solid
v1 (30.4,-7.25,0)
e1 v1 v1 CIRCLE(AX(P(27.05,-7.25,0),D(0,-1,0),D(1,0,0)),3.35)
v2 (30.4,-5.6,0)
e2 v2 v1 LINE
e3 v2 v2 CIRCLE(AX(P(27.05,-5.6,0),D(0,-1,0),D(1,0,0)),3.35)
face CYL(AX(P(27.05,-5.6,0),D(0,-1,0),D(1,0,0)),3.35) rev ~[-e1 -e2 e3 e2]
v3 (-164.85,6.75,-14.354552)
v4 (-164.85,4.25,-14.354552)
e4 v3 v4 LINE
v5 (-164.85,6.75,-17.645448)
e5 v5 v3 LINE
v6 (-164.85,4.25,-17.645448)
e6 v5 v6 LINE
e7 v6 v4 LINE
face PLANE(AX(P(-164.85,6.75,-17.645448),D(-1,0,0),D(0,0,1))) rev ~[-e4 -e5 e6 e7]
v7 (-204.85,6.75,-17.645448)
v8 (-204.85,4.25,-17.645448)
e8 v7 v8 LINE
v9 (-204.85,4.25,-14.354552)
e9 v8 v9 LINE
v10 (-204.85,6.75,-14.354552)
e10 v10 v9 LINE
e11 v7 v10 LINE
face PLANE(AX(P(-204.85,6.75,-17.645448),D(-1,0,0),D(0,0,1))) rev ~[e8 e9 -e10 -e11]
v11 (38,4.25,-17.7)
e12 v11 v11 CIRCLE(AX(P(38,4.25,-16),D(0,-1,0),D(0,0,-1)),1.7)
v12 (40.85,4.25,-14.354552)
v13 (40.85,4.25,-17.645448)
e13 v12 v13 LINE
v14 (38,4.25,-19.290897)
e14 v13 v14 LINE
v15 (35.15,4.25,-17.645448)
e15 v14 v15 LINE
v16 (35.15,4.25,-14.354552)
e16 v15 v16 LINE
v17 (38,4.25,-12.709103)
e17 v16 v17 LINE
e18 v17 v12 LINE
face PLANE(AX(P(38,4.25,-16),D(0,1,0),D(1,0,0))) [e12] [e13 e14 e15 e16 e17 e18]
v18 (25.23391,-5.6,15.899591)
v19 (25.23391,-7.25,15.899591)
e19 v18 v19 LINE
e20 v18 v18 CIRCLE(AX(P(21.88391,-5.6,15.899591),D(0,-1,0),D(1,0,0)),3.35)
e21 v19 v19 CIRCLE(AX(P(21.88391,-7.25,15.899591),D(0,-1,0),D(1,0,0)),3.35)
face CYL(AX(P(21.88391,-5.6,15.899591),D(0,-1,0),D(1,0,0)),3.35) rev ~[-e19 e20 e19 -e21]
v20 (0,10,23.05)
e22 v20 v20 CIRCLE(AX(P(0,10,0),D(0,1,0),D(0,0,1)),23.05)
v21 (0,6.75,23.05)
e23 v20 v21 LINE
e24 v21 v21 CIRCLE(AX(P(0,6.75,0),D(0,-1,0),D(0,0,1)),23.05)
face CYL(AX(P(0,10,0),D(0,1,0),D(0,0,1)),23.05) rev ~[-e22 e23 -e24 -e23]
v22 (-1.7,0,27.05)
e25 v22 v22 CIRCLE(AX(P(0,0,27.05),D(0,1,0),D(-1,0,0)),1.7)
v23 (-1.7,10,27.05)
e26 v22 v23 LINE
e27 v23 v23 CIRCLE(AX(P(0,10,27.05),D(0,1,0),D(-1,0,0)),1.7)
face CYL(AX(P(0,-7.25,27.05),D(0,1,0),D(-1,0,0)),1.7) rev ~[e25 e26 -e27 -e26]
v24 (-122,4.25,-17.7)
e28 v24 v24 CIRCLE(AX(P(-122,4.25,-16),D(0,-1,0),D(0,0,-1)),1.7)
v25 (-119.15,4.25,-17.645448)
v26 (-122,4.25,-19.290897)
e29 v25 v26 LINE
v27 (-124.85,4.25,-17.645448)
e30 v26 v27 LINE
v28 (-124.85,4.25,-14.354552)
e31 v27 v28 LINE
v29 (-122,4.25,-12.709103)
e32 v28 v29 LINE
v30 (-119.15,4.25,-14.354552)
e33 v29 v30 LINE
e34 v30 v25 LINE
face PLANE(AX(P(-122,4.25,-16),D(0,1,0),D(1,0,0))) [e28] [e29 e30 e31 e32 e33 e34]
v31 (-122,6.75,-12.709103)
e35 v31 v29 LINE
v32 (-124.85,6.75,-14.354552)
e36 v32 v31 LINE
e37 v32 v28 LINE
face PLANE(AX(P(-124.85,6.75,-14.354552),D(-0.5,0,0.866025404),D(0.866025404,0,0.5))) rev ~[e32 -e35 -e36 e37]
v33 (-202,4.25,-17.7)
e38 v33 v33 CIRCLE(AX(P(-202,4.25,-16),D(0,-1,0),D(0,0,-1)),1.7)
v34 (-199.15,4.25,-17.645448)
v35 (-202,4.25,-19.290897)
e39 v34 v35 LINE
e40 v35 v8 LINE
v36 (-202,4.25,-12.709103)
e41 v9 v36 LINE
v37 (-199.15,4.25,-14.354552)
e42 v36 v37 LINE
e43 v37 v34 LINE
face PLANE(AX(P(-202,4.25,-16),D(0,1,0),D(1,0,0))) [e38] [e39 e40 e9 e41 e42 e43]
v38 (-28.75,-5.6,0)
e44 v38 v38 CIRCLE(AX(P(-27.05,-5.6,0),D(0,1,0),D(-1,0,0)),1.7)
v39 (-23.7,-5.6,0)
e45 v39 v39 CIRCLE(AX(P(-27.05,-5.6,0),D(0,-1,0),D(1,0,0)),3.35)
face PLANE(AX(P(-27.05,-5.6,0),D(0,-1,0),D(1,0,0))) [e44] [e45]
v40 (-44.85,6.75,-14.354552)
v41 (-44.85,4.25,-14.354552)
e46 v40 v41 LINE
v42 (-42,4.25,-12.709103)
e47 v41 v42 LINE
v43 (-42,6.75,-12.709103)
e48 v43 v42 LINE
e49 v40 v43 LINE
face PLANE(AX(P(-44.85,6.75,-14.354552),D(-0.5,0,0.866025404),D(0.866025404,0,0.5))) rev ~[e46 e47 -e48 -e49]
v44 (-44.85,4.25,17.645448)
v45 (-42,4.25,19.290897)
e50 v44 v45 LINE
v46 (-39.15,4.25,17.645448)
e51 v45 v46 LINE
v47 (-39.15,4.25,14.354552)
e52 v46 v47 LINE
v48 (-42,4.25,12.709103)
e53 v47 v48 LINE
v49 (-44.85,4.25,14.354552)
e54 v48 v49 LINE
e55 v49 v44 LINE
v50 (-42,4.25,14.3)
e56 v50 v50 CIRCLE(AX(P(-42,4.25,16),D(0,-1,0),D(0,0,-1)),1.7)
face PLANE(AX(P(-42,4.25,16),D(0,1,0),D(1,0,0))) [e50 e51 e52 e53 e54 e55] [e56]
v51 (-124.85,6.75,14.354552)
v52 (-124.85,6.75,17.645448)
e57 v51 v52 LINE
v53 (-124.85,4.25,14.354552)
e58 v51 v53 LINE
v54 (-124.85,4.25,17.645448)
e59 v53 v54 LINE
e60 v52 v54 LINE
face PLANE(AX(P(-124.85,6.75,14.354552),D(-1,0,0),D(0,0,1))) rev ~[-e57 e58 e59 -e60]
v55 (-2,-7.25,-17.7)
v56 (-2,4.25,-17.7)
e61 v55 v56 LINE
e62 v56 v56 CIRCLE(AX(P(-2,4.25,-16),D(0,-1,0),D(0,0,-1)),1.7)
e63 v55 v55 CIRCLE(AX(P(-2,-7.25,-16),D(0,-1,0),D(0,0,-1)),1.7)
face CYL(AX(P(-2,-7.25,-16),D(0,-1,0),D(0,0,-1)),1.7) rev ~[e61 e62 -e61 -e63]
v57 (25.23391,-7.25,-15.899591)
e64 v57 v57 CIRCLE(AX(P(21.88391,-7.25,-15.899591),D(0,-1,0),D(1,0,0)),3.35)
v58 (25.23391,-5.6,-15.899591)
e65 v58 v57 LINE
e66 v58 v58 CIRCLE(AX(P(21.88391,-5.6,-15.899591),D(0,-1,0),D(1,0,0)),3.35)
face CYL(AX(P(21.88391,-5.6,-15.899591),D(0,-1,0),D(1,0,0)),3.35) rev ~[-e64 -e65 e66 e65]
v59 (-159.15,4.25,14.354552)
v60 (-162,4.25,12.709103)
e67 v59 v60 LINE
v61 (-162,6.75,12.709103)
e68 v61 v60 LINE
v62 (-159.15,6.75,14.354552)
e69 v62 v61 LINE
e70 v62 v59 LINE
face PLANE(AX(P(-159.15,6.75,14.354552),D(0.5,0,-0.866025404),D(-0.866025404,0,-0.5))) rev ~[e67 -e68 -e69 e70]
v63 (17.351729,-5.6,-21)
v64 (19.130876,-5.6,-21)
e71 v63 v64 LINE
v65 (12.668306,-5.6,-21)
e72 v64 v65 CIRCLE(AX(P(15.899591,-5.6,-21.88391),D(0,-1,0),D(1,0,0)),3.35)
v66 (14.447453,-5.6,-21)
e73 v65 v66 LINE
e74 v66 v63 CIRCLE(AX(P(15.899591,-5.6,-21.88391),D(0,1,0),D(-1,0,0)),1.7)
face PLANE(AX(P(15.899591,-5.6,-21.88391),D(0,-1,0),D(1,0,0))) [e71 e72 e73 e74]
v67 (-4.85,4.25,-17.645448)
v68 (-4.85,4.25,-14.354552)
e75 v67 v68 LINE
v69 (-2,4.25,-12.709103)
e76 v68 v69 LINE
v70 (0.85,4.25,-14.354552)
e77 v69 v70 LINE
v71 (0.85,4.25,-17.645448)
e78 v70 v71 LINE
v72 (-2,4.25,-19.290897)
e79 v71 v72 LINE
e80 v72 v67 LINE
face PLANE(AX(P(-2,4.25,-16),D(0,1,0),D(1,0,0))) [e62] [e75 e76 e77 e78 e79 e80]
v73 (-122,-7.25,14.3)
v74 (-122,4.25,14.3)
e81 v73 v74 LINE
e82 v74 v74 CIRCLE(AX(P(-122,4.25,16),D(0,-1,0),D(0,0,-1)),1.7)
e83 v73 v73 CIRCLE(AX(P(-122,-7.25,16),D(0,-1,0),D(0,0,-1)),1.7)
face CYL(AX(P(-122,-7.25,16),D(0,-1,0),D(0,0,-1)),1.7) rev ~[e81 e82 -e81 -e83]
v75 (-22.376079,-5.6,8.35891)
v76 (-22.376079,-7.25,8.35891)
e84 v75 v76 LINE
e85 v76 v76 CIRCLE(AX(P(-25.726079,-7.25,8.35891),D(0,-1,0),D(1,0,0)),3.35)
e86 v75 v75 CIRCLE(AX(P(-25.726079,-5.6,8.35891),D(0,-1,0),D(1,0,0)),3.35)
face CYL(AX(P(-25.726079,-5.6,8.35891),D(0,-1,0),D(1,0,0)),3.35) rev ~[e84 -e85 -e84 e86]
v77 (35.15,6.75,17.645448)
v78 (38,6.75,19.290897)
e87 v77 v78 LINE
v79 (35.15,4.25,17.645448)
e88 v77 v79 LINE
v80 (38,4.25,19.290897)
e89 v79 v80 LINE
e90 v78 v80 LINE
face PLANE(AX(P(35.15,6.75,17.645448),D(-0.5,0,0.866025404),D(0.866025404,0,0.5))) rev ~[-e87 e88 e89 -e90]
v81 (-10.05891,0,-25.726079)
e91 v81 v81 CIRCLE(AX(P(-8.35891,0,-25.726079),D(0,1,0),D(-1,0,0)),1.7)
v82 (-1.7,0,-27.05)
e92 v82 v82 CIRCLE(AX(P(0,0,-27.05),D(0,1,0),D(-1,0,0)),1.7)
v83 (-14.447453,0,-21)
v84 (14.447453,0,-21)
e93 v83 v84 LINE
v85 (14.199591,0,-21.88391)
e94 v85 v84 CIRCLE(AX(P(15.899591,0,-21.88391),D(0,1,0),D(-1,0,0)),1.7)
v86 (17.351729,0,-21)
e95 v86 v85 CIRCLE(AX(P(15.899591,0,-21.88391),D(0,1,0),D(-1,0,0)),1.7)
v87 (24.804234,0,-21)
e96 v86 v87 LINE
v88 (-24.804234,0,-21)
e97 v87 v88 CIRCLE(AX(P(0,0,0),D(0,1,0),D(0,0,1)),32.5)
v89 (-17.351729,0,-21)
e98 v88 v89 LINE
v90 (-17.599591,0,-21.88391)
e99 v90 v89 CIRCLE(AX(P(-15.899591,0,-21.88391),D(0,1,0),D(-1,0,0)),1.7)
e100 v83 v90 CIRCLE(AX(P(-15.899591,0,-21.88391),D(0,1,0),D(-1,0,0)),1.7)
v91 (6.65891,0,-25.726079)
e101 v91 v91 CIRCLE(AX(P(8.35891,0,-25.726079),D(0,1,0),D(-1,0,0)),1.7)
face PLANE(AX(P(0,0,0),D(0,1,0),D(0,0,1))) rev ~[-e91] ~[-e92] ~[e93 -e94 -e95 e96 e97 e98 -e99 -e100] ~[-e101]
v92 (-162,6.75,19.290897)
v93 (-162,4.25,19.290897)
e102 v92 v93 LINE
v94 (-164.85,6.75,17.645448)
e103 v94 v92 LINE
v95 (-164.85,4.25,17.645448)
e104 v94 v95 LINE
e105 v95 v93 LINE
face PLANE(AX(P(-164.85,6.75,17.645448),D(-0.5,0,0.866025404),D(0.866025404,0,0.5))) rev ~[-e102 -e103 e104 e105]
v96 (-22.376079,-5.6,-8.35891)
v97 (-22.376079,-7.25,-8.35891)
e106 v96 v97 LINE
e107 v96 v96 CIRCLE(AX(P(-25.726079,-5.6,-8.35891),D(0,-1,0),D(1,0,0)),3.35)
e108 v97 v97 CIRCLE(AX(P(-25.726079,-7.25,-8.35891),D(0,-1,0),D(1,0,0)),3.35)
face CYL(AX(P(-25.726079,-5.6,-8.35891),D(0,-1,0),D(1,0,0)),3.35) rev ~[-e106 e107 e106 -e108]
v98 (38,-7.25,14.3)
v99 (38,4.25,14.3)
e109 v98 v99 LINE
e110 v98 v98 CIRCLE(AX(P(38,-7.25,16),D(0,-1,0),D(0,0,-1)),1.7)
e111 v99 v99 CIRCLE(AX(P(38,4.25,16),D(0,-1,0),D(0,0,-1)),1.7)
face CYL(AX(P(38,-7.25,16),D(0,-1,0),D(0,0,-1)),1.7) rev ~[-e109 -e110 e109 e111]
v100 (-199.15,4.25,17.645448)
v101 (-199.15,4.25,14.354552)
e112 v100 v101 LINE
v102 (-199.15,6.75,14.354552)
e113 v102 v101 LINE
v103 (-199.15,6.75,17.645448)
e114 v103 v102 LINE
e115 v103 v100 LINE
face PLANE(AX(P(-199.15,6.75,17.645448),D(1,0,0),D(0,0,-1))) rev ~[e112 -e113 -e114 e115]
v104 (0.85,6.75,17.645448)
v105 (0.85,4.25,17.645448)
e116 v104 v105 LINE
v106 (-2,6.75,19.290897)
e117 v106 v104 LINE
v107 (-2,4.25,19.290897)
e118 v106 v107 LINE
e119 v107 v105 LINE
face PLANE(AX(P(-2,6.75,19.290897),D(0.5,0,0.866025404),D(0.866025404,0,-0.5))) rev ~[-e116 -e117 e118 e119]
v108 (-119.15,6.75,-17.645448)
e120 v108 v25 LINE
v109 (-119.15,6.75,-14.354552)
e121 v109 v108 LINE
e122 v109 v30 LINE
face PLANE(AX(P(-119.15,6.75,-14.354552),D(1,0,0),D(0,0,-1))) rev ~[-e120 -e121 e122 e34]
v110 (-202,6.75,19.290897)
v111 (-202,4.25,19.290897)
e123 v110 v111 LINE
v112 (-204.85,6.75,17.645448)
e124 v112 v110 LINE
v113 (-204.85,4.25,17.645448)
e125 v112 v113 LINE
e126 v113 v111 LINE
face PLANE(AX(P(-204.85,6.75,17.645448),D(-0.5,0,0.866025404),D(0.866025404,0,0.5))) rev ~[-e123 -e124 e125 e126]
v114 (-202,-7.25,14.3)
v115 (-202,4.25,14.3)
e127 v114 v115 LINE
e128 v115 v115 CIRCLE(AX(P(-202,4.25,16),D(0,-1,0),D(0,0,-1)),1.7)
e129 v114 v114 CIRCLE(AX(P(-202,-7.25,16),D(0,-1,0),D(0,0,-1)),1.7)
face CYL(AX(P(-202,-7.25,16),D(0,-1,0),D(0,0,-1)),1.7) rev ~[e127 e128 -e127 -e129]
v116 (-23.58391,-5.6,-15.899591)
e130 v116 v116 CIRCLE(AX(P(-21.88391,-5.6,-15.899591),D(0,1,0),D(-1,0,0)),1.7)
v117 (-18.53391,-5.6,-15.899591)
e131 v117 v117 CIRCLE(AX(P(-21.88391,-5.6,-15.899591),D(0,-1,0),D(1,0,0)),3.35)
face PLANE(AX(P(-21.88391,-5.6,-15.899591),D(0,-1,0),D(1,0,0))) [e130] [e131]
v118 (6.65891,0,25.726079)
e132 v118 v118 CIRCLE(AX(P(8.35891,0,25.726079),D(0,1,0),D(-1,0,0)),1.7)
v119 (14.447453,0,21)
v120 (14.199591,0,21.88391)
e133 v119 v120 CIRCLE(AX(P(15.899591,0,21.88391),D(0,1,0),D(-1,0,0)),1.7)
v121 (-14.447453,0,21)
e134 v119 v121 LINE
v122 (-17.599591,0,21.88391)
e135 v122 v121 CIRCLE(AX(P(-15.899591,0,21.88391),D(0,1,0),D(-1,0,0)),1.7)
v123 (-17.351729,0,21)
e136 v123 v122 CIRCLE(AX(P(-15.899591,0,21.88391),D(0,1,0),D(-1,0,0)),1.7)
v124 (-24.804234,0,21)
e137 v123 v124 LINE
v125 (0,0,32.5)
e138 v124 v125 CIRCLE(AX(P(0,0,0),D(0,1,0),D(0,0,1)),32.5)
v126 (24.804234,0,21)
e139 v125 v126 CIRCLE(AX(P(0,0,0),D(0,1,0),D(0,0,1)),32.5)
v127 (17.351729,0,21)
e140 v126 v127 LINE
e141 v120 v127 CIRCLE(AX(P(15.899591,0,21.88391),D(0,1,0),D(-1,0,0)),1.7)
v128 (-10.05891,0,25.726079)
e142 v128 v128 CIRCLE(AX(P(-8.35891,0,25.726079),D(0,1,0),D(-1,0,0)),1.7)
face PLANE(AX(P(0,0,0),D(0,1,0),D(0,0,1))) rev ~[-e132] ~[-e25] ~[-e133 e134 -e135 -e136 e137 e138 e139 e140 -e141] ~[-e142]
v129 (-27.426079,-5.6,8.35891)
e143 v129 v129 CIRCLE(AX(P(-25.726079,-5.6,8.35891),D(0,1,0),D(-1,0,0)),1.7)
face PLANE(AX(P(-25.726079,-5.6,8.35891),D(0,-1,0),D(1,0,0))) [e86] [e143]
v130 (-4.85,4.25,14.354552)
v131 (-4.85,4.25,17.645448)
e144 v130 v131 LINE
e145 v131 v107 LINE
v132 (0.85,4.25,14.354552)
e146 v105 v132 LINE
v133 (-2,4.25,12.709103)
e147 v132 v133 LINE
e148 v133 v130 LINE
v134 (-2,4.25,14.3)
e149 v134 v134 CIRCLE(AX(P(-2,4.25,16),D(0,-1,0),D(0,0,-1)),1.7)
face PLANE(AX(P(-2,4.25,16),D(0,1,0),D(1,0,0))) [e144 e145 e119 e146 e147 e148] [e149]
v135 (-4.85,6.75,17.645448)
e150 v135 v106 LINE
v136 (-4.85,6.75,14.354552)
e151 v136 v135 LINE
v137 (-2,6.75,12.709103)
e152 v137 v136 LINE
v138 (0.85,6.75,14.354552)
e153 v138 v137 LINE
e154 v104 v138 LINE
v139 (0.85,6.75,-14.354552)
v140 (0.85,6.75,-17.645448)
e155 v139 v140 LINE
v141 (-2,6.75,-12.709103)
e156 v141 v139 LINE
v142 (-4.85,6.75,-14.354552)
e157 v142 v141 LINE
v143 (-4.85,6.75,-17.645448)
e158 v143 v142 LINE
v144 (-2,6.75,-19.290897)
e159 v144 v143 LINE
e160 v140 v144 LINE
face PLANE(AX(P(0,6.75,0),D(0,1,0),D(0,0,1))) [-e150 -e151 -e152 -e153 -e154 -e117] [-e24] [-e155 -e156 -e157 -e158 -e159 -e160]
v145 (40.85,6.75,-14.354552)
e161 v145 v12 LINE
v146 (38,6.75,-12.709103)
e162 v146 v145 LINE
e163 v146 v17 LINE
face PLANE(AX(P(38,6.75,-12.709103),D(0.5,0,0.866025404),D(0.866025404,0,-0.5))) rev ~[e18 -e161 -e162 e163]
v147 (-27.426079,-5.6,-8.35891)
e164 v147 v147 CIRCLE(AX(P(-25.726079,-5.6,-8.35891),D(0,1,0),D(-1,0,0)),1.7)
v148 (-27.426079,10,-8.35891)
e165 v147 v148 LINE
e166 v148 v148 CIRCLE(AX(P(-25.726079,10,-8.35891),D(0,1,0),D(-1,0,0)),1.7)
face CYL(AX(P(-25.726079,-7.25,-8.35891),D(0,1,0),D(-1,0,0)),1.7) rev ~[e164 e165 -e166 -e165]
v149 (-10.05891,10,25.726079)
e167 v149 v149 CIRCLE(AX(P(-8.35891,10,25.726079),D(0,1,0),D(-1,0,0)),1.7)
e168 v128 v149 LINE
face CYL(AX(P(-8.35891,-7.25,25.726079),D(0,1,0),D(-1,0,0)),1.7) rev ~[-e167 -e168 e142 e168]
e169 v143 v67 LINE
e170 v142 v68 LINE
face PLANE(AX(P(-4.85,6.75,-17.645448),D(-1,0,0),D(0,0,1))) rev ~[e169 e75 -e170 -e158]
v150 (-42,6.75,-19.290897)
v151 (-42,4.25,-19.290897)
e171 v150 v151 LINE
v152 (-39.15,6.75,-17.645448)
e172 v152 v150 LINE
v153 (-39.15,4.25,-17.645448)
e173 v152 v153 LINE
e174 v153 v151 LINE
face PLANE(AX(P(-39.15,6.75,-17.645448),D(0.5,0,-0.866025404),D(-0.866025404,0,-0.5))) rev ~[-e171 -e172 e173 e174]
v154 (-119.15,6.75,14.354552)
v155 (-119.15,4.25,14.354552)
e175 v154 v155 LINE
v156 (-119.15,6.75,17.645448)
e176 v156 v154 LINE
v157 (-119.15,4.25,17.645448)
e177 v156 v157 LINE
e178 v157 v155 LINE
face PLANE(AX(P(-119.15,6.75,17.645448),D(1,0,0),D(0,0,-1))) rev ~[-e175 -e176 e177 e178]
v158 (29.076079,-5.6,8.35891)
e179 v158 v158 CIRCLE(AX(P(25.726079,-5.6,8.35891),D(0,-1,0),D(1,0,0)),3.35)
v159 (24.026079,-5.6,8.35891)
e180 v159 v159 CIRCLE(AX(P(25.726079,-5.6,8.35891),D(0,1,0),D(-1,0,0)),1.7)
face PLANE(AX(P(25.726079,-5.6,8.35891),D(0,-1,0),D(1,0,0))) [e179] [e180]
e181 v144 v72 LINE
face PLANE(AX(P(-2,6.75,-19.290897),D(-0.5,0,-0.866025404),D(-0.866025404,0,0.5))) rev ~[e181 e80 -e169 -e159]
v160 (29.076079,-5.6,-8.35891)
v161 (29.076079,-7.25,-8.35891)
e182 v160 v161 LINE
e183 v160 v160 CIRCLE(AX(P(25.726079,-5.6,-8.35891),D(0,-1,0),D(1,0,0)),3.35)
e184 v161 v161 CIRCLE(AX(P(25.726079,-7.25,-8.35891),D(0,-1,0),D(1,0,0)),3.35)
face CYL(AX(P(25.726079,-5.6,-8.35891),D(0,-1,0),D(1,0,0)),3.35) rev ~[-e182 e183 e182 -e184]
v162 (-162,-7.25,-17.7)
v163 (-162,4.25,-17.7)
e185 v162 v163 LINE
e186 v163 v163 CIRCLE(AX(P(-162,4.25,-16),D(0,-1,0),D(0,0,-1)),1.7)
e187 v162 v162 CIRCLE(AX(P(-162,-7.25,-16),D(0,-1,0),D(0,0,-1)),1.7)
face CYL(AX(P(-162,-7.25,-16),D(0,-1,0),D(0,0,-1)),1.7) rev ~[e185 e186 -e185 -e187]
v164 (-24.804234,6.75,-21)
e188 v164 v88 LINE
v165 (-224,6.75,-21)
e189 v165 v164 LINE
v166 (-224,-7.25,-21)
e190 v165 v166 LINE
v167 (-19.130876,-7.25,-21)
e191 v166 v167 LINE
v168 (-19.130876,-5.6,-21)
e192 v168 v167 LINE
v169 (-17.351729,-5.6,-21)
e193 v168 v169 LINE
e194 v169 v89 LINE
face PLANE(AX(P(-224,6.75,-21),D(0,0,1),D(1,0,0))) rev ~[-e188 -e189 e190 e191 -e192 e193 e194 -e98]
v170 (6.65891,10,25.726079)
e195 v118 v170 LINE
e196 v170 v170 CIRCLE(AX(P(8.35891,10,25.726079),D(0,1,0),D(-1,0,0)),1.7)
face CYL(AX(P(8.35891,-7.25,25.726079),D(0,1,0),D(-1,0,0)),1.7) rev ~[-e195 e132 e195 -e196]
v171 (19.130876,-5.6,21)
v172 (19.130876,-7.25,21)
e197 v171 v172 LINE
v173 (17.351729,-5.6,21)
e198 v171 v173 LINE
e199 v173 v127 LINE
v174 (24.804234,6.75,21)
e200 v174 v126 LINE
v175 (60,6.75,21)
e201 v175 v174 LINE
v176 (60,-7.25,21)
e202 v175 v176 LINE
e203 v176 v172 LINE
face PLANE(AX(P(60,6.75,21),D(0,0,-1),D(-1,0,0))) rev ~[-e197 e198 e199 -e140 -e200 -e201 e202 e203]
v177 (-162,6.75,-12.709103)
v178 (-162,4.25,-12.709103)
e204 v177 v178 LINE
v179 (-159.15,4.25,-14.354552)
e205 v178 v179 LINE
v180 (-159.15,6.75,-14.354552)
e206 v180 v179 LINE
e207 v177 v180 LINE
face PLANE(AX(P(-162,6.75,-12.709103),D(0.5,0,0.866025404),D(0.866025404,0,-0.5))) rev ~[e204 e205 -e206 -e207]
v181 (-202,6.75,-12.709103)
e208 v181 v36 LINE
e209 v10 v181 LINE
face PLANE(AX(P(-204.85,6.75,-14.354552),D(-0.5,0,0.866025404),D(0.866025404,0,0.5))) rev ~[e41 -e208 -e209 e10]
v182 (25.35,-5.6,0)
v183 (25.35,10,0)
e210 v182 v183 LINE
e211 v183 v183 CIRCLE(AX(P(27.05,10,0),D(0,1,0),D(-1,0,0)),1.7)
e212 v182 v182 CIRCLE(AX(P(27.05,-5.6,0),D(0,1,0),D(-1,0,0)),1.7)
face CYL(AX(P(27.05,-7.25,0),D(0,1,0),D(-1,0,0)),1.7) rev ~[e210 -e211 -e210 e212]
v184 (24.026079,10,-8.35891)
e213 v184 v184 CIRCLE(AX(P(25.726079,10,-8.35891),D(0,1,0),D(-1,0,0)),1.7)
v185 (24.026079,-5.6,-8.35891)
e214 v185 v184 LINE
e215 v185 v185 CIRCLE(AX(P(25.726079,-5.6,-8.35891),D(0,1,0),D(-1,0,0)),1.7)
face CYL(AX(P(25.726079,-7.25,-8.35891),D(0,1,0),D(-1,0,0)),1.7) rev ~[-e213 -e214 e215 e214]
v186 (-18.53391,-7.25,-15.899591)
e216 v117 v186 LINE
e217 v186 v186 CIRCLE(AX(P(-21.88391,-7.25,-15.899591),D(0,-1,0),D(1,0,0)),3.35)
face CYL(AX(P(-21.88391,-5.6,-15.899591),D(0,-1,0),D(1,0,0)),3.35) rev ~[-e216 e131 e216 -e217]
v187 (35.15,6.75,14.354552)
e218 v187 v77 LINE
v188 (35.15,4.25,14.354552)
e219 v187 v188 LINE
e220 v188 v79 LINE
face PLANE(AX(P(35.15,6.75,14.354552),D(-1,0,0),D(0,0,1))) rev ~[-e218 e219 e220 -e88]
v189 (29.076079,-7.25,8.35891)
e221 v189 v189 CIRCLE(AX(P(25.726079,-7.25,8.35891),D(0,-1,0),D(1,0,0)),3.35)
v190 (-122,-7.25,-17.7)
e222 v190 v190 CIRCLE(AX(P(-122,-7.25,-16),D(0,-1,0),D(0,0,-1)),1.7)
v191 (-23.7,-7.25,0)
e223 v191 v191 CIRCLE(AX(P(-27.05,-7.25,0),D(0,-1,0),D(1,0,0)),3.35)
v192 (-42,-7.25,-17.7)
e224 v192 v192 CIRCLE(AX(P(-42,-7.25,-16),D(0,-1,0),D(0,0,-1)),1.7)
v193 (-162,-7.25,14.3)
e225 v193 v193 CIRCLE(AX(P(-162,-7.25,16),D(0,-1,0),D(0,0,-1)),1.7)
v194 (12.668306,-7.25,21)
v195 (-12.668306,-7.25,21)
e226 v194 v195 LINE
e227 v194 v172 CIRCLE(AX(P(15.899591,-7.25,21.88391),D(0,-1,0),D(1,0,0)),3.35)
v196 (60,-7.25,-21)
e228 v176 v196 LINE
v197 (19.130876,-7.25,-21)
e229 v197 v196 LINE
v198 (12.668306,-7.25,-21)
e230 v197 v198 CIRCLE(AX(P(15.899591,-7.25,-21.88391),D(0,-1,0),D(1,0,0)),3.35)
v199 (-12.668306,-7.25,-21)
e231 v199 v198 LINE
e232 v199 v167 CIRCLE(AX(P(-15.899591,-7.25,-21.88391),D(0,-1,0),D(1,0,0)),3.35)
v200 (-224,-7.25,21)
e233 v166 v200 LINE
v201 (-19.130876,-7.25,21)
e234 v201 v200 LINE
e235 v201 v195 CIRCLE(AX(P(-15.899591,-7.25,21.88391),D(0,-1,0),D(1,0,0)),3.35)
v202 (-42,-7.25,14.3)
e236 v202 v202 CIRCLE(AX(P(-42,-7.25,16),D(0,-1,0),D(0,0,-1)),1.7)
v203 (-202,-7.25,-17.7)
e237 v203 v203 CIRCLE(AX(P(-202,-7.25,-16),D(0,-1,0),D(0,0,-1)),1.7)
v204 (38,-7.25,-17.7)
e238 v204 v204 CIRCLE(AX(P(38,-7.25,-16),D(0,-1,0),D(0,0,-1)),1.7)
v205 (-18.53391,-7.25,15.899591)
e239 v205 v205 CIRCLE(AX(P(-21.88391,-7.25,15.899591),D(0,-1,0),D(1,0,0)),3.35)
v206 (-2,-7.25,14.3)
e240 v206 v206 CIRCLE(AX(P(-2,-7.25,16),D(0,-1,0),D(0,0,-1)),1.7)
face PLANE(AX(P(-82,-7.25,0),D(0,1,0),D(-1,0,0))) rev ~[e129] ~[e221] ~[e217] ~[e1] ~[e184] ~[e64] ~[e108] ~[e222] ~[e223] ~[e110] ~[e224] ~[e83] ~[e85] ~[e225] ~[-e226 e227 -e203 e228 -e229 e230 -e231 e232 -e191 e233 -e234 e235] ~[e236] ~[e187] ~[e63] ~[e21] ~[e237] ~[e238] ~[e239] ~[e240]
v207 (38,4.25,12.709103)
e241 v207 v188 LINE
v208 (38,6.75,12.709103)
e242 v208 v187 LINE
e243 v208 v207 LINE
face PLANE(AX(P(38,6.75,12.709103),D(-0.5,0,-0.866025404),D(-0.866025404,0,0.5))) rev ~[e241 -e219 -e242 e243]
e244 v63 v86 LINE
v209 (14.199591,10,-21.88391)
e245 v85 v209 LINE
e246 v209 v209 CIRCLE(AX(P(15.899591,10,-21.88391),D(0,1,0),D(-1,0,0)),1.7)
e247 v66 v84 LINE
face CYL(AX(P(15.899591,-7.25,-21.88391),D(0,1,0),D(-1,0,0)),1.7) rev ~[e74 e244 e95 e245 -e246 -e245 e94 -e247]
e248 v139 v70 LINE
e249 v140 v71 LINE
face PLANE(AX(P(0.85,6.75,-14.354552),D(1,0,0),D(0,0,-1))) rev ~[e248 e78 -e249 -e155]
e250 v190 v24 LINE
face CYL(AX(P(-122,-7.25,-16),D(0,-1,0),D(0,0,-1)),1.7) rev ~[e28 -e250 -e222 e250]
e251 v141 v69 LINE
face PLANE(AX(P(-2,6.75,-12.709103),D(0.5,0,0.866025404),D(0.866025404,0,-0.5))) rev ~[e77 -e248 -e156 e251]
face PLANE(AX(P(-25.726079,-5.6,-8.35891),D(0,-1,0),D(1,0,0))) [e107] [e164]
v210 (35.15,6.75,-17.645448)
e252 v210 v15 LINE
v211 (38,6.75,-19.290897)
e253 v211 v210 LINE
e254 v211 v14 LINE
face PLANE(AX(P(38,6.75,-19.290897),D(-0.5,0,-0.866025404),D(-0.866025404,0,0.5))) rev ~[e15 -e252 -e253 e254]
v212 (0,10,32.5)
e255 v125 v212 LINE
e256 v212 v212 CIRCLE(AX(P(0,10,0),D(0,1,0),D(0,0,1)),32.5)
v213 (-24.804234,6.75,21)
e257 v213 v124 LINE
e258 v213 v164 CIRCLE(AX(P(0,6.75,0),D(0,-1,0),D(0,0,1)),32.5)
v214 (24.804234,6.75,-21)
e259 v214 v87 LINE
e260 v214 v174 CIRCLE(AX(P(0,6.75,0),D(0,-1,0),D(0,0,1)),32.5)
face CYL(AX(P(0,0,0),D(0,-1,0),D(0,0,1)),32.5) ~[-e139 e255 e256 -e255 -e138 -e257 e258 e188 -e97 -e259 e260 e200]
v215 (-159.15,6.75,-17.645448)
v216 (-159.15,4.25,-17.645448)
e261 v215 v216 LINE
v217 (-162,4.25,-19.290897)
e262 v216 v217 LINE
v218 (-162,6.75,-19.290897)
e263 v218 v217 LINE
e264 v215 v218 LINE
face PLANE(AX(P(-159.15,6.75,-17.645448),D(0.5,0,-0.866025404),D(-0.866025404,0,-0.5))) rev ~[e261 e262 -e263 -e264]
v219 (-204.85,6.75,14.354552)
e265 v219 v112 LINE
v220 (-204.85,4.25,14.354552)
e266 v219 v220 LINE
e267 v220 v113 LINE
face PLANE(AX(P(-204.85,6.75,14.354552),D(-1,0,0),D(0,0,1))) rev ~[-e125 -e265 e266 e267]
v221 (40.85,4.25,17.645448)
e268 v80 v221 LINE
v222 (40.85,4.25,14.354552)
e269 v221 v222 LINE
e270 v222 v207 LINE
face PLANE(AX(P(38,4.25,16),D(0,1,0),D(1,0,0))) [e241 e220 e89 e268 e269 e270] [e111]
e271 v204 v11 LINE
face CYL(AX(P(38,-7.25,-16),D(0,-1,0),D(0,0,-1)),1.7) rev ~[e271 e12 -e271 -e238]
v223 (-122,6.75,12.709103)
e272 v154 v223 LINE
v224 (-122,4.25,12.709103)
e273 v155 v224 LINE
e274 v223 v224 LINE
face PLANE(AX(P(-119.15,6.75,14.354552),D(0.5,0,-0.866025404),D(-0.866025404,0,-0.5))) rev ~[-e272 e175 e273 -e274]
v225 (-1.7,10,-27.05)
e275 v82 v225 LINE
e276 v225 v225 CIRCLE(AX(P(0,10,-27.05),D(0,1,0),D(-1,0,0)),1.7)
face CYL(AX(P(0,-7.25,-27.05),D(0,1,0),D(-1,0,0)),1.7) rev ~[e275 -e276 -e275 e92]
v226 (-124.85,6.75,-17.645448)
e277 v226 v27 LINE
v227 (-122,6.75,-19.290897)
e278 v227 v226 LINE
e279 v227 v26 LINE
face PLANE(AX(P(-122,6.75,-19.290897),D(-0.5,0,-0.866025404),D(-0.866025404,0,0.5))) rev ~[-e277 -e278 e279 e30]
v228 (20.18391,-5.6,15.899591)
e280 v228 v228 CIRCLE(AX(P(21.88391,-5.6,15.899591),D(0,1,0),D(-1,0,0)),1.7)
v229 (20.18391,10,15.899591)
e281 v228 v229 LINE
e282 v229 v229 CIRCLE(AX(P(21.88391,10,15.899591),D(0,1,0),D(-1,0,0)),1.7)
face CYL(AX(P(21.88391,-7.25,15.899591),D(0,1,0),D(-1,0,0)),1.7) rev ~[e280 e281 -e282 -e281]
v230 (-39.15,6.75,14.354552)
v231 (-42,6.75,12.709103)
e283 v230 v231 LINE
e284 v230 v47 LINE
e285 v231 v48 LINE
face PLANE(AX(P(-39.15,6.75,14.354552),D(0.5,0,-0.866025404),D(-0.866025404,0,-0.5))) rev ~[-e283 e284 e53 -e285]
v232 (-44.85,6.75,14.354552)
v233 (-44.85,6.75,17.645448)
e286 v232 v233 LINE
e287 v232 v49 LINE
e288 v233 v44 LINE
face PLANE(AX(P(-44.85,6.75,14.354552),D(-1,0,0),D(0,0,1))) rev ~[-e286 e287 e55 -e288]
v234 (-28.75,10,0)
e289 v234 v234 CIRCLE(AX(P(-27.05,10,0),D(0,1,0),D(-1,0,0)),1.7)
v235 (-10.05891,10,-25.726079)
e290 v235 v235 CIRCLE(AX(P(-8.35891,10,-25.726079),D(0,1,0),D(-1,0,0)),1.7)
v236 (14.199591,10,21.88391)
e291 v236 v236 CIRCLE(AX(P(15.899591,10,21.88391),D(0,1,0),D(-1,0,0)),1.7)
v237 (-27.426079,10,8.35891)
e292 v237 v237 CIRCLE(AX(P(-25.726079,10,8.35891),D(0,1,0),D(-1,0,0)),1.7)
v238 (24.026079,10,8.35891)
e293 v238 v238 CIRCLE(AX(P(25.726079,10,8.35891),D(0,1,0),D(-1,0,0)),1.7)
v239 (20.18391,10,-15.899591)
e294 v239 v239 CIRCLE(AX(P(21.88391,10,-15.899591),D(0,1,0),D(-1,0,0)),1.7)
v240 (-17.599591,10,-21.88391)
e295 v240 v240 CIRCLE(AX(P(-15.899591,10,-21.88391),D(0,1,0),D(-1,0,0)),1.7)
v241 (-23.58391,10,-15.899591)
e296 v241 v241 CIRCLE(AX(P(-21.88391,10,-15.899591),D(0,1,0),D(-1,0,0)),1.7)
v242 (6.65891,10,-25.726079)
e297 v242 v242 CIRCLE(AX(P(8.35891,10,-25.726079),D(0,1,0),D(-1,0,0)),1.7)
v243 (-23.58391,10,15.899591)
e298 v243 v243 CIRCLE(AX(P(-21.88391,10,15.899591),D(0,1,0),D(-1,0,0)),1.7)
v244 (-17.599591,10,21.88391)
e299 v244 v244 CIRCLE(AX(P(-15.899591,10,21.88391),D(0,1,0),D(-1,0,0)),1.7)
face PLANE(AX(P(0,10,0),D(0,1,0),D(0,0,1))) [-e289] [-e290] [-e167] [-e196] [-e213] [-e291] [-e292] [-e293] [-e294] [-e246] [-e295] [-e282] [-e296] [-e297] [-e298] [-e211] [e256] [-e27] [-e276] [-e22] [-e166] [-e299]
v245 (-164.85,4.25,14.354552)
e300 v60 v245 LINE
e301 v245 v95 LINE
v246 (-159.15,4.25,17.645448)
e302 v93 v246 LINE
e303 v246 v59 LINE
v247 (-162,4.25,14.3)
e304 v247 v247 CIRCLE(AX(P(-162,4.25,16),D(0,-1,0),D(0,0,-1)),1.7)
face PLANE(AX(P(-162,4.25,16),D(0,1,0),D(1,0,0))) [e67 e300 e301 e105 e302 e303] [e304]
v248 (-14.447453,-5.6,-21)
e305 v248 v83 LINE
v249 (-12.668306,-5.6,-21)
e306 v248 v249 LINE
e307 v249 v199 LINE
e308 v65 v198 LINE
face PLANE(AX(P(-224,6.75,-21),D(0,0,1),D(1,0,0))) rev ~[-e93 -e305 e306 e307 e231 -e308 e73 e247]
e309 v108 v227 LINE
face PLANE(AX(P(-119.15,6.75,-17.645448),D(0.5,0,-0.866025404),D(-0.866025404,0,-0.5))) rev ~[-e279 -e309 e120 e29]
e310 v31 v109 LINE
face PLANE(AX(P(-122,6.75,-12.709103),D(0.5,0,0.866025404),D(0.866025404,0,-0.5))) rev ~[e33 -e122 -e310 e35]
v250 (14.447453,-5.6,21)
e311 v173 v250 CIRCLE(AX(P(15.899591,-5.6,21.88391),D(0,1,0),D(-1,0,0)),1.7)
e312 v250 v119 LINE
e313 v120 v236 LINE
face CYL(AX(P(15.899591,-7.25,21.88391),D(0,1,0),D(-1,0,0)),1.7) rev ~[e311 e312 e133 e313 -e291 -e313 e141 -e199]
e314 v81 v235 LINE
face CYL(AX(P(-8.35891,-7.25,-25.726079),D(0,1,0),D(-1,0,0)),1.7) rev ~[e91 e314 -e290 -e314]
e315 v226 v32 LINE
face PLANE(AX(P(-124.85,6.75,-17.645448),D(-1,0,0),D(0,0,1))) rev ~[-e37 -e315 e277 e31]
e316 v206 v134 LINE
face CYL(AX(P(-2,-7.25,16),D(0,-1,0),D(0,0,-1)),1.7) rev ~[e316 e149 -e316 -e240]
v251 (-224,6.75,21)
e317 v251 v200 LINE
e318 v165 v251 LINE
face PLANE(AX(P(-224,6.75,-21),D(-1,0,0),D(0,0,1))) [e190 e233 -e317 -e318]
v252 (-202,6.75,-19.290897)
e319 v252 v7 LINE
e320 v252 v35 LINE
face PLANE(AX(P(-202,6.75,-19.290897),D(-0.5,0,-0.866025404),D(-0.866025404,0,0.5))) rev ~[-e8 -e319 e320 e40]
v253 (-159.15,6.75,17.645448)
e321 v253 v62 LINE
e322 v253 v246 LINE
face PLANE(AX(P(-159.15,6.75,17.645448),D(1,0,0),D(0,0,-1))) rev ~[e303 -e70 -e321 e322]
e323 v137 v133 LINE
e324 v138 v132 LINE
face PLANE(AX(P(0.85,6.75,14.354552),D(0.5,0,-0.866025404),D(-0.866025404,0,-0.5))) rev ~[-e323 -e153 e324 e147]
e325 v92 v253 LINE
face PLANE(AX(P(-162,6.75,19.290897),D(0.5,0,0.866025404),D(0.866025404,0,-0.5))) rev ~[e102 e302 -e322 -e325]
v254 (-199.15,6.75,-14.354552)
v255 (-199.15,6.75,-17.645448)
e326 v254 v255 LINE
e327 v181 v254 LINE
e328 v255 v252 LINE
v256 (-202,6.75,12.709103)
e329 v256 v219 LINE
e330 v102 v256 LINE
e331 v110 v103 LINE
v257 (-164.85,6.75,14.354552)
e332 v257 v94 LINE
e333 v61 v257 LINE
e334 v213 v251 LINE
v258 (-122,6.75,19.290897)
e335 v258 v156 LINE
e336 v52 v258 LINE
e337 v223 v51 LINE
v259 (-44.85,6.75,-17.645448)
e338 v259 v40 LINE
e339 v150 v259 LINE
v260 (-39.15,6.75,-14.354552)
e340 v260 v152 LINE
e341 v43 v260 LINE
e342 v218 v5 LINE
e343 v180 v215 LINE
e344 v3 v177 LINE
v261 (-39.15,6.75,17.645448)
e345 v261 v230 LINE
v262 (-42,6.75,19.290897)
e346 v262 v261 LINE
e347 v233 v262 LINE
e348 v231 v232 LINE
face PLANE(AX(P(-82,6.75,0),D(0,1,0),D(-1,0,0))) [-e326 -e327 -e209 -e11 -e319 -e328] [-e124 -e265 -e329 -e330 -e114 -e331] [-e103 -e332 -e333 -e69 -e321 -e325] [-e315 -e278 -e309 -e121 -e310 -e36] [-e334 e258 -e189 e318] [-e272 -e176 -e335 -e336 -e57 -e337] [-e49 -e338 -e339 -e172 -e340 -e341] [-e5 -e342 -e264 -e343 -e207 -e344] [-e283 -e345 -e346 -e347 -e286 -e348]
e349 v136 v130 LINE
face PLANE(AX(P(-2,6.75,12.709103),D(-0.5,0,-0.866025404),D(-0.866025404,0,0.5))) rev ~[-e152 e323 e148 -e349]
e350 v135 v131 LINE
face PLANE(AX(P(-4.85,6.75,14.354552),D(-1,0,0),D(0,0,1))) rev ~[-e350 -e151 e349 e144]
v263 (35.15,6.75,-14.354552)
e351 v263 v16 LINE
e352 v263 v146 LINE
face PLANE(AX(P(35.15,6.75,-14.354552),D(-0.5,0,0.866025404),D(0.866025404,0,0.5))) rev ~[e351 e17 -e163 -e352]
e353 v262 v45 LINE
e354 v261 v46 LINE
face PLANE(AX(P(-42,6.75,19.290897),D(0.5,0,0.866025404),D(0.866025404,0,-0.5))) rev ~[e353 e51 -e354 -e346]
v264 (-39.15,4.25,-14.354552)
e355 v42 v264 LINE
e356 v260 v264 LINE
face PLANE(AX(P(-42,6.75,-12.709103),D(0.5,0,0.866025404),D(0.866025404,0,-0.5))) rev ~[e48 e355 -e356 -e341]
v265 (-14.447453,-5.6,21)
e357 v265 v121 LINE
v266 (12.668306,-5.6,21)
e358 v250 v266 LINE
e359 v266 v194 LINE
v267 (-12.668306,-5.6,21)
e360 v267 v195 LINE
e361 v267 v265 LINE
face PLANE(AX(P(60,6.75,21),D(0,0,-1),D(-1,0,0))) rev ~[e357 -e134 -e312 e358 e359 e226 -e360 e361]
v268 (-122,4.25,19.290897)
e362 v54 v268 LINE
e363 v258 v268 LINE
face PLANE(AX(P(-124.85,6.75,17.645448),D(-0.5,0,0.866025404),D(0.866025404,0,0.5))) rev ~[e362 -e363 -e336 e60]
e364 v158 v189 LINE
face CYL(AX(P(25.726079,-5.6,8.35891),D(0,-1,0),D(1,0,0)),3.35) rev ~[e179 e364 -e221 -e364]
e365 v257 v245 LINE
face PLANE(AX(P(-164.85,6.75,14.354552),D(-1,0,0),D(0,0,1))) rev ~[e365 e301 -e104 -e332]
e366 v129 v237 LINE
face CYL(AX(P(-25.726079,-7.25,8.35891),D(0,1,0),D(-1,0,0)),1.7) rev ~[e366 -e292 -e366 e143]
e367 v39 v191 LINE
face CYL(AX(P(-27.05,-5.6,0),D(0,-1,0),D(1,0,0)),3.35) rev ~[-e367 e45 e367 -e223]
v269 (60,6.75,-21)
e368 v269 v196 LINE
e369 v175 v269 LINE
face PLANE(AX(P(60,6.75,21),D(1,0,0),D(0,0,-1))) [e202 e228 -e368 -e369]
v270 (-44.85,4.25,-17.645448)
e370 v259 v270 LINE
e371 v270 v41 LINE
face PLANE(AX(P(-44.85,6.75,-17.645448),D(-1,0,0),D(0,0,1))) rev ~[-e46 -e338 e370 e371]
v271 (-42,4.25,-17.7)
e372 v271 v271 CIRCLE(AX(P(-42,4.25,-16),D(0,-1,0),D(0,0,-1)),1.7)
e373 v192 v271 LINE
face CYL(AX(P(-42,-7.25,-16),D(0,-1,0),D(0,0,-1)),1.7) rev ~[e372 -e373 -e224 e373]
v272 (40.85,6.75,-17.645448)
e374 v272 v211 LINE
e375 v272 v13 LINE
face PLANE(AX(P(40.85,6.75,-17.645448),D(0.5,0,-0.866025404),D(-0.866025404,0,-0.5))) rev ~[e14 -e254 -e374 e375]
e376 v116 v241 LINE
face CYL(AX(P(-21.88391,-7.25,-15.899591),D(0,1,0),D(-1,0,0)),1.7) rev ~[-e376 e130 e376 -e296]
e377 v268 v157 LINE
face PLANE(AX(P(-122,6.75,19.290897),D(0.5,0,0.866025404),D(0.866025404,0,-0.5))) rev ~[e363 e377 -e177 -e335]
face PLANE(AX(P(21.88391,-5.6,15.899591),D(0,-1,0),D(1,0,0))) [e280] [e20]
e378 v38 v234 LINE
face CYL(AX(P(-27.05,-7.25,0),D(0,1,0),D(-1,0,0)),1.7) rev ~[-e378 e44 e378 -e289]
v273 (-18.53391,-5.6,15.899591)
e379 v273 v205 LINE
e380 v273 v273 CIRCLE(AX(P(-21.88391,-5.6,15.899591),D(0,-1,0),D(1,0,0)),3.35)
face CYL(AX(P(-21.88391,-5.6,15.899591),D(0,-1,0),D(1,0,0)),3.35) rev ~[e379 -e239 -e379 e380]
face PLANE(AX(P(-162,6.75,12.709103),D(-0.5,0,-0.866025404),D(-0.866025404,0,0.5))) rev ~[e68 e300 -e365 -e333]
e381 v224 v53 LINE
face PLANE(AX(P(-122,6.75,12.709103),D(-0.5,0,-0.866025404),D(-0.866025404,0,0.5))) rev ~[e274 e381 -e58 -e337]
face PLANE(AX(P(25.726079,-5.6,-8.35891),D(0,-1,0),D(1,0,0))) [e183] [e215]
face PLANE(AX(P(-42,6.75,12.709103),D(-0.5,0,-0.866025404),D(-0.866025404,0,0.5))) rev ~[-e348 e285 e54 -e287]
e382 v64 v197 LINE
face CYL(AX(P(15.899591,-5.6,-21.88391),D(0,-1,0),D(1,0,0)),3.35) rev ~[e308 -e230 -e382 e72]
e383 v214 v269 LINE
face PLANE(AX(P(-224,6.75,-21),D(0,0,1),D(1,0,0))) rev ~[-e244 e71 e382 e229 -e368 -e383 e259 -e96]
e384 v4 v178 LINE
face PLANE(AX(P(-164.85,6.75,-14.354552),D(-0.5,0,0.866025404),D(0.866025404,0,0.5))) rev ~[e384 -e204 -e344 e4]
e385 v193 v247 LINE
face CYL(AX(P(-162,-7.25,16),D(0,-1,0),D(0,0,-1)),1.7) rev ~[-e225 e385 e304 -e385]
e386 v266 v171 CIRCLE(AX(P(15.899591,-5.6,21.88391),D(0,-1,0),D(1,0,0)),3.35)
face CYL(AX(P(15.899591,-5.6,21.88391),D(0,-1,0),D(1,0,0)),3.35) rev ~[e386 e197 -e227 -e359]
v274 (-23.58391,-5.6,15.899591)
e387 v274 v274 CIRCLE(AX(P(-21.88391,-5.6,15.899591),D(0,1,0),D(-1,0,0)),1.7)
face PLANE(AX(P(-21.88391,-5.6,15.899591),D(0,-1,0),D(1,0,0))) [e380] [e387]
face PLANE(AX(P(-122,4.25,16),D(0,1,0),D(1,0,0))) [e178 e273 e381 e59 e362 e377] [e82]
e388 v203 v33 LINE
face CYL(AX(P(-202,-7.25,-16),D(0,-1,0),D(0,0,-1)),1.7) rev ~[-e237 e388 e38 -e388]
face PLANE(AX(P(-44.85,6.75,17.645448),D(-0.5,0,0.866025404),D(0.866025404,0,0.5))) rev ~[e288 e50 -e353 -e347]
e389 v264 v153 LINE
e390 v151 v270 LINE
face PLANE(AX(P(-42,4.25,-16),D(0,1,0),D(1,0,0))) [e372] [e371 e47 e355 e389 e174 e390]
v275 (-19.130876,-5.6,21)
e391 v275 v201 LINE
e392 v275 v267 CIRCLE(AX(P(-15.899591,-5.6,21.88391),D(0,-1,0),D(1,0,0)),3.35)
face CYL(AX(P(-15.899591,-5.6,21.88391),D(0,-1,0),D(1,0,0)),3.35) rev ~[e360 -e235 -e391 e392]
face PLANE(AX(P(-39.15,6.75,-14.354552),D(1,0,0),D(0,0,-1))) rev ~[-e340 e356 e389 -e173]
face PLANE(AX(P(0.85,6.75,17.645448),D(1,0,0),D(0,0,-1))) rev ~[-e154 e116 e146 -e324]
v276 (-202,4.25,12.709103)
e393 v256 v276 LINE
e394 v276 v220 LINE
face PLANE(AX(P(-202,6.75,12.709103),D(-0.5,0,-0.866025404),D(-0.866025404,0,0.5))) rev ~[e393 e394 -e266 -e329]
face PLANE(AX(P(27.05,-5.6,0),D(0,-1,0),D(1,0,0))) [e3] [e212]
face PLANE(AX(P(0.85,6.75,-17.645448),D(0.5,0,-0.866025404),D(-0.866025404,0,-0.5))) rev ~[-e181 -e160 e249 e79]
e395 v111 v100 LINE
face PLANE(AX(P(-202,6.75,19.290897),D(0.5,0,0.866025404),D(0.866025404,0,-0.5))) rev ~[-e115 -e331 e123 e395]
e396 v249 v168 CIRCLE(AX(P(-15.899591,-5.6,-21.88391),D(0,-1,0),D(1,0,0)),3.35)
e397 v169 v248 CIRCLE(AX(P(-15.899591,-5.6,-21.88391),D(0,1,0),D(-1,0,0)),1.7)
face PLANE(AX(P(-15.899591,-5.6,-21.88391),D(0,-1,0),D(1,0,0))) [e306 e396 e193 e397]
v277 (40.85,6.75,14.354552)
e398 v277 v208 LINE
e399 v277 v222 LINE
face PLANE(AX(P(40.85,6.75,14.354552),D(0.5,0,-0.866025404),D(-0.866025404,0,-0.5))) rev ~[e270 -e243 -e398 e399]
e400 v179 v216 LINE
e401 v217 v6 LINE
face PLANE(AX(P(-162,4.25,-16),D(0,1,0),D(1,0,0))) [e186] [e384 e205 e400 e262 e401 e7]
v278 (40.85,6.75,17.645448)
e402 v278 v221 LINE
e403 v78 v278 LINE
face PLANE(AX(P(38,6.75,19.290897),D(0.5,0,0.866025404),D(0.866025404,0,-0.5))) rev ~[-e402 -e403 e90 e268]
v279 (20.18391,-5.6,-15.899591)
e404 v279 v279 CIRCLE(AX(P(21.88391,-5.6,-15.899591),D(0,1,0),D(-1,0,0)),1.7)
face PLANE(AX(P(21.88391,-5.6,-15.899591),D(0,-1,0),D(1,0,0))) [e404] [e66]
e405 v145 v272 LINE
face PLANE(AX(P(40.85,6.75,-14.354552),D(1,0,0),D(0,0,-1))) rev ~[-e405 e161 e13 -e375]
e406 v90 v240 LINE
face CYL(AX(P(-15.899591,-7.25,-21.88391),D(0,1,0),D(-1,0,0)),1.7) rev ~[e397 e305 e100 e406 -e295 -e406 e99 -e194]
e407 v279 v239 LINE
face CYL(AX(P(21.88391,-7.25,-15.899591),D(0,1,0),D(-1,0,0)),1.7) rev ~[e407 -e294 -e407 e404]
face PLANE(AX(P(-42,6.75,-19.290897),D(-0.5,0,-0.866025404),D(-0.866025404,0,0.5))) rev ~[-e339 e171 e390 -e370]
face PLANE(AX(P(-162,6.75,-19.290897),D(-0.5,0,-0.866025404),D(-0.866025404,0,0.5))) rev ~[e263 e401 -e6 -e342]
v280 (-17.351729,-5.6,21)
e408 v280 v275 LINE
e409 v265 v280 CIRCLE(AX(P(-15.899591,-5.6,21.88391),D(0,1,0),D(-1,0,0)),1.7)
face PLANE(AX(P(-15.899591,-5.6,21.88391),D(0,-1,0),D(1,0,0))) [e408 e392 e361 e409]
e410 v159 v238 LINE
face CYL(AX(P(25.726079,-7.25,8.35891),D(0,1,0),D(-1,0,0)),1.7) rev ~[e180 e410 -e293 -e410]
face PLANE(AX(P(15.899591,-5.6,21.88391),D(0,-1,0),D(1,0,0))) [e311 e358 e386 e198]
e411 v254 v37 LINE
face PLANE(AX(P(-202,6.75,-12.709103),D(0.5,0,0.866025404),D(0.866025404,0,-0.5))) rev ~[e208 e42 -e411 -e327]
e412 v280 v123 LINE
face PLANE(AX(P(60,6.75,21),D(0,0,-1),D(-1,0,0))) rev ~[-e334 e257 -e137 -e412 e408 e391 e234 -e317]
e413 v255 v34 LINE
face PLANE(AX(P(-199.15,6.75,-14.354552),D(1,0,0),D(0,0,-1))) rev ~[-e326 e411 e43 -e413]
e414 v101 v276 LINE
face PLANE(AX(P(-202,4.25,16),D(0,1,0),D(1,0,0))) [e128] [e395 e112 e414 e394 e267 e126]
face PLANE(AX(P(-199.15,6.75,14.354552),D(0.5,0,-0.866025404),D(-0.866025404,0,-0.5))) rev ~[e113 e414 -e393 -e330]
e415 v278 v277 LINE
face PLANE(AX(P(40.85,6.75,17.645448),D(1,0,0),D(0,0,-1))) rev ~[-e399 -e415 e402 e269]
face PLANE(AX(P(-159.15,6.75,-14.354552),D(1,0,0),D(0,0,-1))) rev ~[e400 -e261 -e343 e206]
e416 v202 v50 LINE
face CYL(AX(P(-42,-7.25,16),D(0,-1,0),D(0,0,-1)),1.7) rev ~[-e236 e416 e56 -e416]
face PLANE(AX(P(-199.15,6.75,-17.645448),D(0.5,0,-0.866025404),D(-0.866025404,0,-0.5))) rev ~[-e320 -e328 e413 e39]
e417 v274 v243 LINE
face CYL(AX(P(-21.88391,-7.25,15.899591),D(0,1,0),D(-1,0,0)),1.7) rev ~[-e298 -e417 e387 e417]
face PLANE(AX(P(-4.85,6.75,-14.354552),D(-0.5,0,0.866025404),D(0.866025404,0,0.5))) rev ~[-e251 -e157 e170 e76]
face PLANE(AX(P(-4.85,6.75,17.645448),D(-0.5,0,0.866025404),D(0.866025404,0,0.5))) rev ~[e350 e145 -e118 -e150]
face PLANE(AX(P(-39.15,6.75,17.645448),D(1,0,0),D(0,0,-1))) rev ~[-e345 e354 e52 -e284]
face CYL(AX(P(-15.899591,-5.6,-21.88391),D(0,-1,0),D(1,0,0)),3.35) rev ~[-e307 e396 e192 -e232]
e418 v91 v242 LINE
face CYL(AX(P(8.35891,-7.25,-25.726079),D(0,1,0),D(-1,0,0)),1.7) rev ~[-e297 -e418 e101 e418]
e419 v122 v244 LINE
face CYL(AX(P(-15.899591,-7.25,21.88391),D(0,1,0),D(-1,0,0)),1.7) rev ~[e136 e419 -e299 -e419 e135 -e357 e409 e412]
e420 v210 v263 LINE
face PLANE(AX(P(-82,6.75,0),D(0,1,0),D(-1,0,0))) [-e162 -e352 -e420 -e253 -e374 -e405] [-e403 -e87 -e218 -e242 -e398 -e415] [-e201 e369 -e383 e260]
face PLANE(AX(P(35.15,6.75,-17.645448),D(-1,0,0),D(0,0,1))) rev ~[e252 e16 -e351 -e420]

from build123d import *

# Parameters (mm, degrees)
SKETCH1_R                       = 32.5
BOSS_EXTRUDE1_DEPTH             = 10
SKETCH2_R                       = 23.05
CUT_EXTRUDE1_DEPTH              = 3.25
BOSS_EXTRUDE2_DEPTH             = 7.25
BOSS_EXTRUDE2_DEPTH_BACK        = 6.75
CBORE_FOR_M3_SBHCS1_D           = 3.4
CBORE_FOR_M3_SBHCS1_CBORE_D     = 6.7
CBORE_FOR_M3_SBHCS1_CBORE_DEPTH = 1.65
CUT_EXTRUDE3_DEPTH              = 2.5
SKETCH7_R                       = 1.7
CUT_EXTRUDE4_DEPTH              = 228.001789641


with BuildPart() as part:
    # Sketch1 → Boss-Extrude1 (new body)
    with BuildSketch(Plane(origin=(0, 0, 0), x_dir=(1, 0, 0), z_dir=(0, 1, 0))):
        Circle(SKETCH1_R)
    extrude(amount=BOSS_EXTRUDE1_DEPTH)

    # Sketch2 → Cut-Extrude1 (cut)
    with BuildSketch(Plane(origin=(0, 10, 0), x_dir=(1, 0, 0), z_dir=(0, 1, 0))):
        Circle(SKETCH2_R)
    extrude(amount=-CUT_EXTRUDE1_DEPTH, mode=Mode.SUBTRACT)

    # Sketch3 → Boss-Extrude2 (add, two sides: drawn at the far end of the back side and taken through both)
    with BuildSketch(Plane.XZ.offset(-BOSS_EXTRUDE2_DEPTH_BACK)):
        Polygon((-224, 21), (-3.439528279, 21), (60, 21), (60, -21), (-24.489517729, -21), (-224, -21), align=None)
    extrude(amount=BOSS_EXTRUDE2_DEPTH + BOSS_EXTRUDE2_DEPTH_BACK)

    # CBORE for M3 SBHCS1 (through all)
    with Locations(Plane.XZ.offset(7.25)):
        with Locations((0, 27.05), (8.358909698, 25.726078766), (15.899591075, 21.883909698), (21.883909698, 15.899591075), (25.726078766, 8.358909698), (27.05, 0), (25.726078766, -8.358909698), (21.883909698, -15.899591075), (15.899591075, -21.883909698), (8.358909698, -25.726078766), (0, -27.05), (-8.358909698, -25.726078766), (-15.899591075, -21.883909698), (-21.883909698, -15.899591075), (-25.726078766, -8.358909698), (-27.05, 0), (-25.726078766, 8.358909698), (-21.883909698, 15.899591075), (-15.899591075, 21.883909698), (-8.358909698, 25.726078766)):
            CounterBoreHole(CBORE_FOR_M3_SBHCS1_D / 2, CBORE_FOR_M3_SBHCS1_CBORE_D / 2, CBORE_FOR_M3_SBHCS1_CBORE_DEPTH)

    # Sketch6 → Cut-Extrude3 (cut)
    with BuildSketch(Plane(origin=(0, 6.75, 0), x_dir=(1, 0, 0), z_dir=(0, 1, 0))):
        Polygon((-202, 19.290896534), (-204.85, 17.645448267), (-204.85, 14.354551733), (-202, 12.709103466), (-199.15, 14.354551733), (-199.15, 17.645448267), align=None)
        Polygon((-202, -12.709103466), (-204.85, -14.354551733), (-204.85, -17.645448267), (-202, -19.290896534), (-199.15, -17.645448267), (-199.15, -14.354551733), align=None)
        Polygon((-162, -12.709103466), (-164.85, -14.354551733), (-164.85, -17.645448267), (-162, -19.290896534), (-159.15, -17.645448267), (-159.15, -14.354551733), align=None)
        Polygon((-122, -12.709103466), (-124.85, -14.354551733), (-124.85, -17.645448267), (-122, -19.290896534), (-119.15, -17.645448267), (-119.15, -14.354551733), align=None)
        Polygon((-162, 19.290896534), (-164.85, 17.645448267), (-164.85, 14.354551733), (-162, 12.709103466), (-159.15, 14.354551733), (-159.15, 17.645448267), align=None)
        Polygon((-122, 19.290896534), (-124.85, 17.645448267), (-124.85, 14.354551733), (-122, 12.709103466), (-119.15, 14.354551733), (-119.15, 17.645448267), align=None)
        Polygon((-42, 19.290896534), (-44.85, 17.645448267), (-44.85, 14.354551733), (-42, 12.709103466), (-39.15, 14.354551733), (-39.15, 17.645448267), align=None)
        Polygon((-2, 19.290896534), (-4.85, 17.645448267), (-4.85, 14.354551733), (-2, 12.709103466), (0.85, 14.354551733), (0.85, 17.645448267), align=None)
        Polygon((38, 19.290896534), (35.15, 17.645448267), (35.15, 14.354551733), (38, 12.709103466), (40.85, 14.354551733), (40.85, 17.645448267), align=None)
        Polygon((38, -12.709103466), (35.15, -14.354551733), (35.15, -17.645448267), (38, -19.290896534), (40.85, -17.645448267), (40.85, -14.354551733), align=None)
        Polygon((-2, -12.709103466), (-4.85, -14.354551733), (-4.85, -17.645448267), (-2, -19.290896534), (0.85, -17.645448267), (0.85, -14.354551733), align=None)
        Polygon((-42, -12.709103466), (-44.85, -14.354551733), (-44.85, -17.645448267), (-42, -19.290896534), (-39.15, -17.645448267), (-39.15, -14.354551733), align=None)
    extrude(amount=-CUT_EXTRUDE3_DEPTH, mode=Mode.SUBTRACT)

    # Sketch7 → Cut-Extrude4 (cut, through all)
    with BuildSketch(Plane.XZ.offset(7.25)):
        with Locations((-202, 16)):
            Circle(SKETCH7_R)
        with Locations((-202, -16)):
            Circle(SKETCH7_R)
        with Locations((-162, -16)):
            Circle(SKETCH7_R)
        with Locations((-162, 16)):
            Circle(SKETCH7_R)
        with Locations((-122, 16)):
            Circle(SKETCH7_R)
        with Locations((-122, -16)):
            Circle(SKETCH7_R)
        with Locations((-42, 16)):
            Circle(SKETCH7_R)
        with Locations((-2, 16)):
            Circle(SKETCH7_R)
        with Locations((38, 16)):
            Circle(SKETCH7_R)
        with Locations((38, -16)):
            Circle(SKETCH7_R)
        with Locations((-2, -16)):
            Circle(SKETCH7_R)
        with Locations((-42, -16)):
            Circle(SKETCH7_R)
    extrude(amount=-CUT_EXTRUDE4_DEPTH, mode=Mode.SUBTRACT)


solid = part.part
